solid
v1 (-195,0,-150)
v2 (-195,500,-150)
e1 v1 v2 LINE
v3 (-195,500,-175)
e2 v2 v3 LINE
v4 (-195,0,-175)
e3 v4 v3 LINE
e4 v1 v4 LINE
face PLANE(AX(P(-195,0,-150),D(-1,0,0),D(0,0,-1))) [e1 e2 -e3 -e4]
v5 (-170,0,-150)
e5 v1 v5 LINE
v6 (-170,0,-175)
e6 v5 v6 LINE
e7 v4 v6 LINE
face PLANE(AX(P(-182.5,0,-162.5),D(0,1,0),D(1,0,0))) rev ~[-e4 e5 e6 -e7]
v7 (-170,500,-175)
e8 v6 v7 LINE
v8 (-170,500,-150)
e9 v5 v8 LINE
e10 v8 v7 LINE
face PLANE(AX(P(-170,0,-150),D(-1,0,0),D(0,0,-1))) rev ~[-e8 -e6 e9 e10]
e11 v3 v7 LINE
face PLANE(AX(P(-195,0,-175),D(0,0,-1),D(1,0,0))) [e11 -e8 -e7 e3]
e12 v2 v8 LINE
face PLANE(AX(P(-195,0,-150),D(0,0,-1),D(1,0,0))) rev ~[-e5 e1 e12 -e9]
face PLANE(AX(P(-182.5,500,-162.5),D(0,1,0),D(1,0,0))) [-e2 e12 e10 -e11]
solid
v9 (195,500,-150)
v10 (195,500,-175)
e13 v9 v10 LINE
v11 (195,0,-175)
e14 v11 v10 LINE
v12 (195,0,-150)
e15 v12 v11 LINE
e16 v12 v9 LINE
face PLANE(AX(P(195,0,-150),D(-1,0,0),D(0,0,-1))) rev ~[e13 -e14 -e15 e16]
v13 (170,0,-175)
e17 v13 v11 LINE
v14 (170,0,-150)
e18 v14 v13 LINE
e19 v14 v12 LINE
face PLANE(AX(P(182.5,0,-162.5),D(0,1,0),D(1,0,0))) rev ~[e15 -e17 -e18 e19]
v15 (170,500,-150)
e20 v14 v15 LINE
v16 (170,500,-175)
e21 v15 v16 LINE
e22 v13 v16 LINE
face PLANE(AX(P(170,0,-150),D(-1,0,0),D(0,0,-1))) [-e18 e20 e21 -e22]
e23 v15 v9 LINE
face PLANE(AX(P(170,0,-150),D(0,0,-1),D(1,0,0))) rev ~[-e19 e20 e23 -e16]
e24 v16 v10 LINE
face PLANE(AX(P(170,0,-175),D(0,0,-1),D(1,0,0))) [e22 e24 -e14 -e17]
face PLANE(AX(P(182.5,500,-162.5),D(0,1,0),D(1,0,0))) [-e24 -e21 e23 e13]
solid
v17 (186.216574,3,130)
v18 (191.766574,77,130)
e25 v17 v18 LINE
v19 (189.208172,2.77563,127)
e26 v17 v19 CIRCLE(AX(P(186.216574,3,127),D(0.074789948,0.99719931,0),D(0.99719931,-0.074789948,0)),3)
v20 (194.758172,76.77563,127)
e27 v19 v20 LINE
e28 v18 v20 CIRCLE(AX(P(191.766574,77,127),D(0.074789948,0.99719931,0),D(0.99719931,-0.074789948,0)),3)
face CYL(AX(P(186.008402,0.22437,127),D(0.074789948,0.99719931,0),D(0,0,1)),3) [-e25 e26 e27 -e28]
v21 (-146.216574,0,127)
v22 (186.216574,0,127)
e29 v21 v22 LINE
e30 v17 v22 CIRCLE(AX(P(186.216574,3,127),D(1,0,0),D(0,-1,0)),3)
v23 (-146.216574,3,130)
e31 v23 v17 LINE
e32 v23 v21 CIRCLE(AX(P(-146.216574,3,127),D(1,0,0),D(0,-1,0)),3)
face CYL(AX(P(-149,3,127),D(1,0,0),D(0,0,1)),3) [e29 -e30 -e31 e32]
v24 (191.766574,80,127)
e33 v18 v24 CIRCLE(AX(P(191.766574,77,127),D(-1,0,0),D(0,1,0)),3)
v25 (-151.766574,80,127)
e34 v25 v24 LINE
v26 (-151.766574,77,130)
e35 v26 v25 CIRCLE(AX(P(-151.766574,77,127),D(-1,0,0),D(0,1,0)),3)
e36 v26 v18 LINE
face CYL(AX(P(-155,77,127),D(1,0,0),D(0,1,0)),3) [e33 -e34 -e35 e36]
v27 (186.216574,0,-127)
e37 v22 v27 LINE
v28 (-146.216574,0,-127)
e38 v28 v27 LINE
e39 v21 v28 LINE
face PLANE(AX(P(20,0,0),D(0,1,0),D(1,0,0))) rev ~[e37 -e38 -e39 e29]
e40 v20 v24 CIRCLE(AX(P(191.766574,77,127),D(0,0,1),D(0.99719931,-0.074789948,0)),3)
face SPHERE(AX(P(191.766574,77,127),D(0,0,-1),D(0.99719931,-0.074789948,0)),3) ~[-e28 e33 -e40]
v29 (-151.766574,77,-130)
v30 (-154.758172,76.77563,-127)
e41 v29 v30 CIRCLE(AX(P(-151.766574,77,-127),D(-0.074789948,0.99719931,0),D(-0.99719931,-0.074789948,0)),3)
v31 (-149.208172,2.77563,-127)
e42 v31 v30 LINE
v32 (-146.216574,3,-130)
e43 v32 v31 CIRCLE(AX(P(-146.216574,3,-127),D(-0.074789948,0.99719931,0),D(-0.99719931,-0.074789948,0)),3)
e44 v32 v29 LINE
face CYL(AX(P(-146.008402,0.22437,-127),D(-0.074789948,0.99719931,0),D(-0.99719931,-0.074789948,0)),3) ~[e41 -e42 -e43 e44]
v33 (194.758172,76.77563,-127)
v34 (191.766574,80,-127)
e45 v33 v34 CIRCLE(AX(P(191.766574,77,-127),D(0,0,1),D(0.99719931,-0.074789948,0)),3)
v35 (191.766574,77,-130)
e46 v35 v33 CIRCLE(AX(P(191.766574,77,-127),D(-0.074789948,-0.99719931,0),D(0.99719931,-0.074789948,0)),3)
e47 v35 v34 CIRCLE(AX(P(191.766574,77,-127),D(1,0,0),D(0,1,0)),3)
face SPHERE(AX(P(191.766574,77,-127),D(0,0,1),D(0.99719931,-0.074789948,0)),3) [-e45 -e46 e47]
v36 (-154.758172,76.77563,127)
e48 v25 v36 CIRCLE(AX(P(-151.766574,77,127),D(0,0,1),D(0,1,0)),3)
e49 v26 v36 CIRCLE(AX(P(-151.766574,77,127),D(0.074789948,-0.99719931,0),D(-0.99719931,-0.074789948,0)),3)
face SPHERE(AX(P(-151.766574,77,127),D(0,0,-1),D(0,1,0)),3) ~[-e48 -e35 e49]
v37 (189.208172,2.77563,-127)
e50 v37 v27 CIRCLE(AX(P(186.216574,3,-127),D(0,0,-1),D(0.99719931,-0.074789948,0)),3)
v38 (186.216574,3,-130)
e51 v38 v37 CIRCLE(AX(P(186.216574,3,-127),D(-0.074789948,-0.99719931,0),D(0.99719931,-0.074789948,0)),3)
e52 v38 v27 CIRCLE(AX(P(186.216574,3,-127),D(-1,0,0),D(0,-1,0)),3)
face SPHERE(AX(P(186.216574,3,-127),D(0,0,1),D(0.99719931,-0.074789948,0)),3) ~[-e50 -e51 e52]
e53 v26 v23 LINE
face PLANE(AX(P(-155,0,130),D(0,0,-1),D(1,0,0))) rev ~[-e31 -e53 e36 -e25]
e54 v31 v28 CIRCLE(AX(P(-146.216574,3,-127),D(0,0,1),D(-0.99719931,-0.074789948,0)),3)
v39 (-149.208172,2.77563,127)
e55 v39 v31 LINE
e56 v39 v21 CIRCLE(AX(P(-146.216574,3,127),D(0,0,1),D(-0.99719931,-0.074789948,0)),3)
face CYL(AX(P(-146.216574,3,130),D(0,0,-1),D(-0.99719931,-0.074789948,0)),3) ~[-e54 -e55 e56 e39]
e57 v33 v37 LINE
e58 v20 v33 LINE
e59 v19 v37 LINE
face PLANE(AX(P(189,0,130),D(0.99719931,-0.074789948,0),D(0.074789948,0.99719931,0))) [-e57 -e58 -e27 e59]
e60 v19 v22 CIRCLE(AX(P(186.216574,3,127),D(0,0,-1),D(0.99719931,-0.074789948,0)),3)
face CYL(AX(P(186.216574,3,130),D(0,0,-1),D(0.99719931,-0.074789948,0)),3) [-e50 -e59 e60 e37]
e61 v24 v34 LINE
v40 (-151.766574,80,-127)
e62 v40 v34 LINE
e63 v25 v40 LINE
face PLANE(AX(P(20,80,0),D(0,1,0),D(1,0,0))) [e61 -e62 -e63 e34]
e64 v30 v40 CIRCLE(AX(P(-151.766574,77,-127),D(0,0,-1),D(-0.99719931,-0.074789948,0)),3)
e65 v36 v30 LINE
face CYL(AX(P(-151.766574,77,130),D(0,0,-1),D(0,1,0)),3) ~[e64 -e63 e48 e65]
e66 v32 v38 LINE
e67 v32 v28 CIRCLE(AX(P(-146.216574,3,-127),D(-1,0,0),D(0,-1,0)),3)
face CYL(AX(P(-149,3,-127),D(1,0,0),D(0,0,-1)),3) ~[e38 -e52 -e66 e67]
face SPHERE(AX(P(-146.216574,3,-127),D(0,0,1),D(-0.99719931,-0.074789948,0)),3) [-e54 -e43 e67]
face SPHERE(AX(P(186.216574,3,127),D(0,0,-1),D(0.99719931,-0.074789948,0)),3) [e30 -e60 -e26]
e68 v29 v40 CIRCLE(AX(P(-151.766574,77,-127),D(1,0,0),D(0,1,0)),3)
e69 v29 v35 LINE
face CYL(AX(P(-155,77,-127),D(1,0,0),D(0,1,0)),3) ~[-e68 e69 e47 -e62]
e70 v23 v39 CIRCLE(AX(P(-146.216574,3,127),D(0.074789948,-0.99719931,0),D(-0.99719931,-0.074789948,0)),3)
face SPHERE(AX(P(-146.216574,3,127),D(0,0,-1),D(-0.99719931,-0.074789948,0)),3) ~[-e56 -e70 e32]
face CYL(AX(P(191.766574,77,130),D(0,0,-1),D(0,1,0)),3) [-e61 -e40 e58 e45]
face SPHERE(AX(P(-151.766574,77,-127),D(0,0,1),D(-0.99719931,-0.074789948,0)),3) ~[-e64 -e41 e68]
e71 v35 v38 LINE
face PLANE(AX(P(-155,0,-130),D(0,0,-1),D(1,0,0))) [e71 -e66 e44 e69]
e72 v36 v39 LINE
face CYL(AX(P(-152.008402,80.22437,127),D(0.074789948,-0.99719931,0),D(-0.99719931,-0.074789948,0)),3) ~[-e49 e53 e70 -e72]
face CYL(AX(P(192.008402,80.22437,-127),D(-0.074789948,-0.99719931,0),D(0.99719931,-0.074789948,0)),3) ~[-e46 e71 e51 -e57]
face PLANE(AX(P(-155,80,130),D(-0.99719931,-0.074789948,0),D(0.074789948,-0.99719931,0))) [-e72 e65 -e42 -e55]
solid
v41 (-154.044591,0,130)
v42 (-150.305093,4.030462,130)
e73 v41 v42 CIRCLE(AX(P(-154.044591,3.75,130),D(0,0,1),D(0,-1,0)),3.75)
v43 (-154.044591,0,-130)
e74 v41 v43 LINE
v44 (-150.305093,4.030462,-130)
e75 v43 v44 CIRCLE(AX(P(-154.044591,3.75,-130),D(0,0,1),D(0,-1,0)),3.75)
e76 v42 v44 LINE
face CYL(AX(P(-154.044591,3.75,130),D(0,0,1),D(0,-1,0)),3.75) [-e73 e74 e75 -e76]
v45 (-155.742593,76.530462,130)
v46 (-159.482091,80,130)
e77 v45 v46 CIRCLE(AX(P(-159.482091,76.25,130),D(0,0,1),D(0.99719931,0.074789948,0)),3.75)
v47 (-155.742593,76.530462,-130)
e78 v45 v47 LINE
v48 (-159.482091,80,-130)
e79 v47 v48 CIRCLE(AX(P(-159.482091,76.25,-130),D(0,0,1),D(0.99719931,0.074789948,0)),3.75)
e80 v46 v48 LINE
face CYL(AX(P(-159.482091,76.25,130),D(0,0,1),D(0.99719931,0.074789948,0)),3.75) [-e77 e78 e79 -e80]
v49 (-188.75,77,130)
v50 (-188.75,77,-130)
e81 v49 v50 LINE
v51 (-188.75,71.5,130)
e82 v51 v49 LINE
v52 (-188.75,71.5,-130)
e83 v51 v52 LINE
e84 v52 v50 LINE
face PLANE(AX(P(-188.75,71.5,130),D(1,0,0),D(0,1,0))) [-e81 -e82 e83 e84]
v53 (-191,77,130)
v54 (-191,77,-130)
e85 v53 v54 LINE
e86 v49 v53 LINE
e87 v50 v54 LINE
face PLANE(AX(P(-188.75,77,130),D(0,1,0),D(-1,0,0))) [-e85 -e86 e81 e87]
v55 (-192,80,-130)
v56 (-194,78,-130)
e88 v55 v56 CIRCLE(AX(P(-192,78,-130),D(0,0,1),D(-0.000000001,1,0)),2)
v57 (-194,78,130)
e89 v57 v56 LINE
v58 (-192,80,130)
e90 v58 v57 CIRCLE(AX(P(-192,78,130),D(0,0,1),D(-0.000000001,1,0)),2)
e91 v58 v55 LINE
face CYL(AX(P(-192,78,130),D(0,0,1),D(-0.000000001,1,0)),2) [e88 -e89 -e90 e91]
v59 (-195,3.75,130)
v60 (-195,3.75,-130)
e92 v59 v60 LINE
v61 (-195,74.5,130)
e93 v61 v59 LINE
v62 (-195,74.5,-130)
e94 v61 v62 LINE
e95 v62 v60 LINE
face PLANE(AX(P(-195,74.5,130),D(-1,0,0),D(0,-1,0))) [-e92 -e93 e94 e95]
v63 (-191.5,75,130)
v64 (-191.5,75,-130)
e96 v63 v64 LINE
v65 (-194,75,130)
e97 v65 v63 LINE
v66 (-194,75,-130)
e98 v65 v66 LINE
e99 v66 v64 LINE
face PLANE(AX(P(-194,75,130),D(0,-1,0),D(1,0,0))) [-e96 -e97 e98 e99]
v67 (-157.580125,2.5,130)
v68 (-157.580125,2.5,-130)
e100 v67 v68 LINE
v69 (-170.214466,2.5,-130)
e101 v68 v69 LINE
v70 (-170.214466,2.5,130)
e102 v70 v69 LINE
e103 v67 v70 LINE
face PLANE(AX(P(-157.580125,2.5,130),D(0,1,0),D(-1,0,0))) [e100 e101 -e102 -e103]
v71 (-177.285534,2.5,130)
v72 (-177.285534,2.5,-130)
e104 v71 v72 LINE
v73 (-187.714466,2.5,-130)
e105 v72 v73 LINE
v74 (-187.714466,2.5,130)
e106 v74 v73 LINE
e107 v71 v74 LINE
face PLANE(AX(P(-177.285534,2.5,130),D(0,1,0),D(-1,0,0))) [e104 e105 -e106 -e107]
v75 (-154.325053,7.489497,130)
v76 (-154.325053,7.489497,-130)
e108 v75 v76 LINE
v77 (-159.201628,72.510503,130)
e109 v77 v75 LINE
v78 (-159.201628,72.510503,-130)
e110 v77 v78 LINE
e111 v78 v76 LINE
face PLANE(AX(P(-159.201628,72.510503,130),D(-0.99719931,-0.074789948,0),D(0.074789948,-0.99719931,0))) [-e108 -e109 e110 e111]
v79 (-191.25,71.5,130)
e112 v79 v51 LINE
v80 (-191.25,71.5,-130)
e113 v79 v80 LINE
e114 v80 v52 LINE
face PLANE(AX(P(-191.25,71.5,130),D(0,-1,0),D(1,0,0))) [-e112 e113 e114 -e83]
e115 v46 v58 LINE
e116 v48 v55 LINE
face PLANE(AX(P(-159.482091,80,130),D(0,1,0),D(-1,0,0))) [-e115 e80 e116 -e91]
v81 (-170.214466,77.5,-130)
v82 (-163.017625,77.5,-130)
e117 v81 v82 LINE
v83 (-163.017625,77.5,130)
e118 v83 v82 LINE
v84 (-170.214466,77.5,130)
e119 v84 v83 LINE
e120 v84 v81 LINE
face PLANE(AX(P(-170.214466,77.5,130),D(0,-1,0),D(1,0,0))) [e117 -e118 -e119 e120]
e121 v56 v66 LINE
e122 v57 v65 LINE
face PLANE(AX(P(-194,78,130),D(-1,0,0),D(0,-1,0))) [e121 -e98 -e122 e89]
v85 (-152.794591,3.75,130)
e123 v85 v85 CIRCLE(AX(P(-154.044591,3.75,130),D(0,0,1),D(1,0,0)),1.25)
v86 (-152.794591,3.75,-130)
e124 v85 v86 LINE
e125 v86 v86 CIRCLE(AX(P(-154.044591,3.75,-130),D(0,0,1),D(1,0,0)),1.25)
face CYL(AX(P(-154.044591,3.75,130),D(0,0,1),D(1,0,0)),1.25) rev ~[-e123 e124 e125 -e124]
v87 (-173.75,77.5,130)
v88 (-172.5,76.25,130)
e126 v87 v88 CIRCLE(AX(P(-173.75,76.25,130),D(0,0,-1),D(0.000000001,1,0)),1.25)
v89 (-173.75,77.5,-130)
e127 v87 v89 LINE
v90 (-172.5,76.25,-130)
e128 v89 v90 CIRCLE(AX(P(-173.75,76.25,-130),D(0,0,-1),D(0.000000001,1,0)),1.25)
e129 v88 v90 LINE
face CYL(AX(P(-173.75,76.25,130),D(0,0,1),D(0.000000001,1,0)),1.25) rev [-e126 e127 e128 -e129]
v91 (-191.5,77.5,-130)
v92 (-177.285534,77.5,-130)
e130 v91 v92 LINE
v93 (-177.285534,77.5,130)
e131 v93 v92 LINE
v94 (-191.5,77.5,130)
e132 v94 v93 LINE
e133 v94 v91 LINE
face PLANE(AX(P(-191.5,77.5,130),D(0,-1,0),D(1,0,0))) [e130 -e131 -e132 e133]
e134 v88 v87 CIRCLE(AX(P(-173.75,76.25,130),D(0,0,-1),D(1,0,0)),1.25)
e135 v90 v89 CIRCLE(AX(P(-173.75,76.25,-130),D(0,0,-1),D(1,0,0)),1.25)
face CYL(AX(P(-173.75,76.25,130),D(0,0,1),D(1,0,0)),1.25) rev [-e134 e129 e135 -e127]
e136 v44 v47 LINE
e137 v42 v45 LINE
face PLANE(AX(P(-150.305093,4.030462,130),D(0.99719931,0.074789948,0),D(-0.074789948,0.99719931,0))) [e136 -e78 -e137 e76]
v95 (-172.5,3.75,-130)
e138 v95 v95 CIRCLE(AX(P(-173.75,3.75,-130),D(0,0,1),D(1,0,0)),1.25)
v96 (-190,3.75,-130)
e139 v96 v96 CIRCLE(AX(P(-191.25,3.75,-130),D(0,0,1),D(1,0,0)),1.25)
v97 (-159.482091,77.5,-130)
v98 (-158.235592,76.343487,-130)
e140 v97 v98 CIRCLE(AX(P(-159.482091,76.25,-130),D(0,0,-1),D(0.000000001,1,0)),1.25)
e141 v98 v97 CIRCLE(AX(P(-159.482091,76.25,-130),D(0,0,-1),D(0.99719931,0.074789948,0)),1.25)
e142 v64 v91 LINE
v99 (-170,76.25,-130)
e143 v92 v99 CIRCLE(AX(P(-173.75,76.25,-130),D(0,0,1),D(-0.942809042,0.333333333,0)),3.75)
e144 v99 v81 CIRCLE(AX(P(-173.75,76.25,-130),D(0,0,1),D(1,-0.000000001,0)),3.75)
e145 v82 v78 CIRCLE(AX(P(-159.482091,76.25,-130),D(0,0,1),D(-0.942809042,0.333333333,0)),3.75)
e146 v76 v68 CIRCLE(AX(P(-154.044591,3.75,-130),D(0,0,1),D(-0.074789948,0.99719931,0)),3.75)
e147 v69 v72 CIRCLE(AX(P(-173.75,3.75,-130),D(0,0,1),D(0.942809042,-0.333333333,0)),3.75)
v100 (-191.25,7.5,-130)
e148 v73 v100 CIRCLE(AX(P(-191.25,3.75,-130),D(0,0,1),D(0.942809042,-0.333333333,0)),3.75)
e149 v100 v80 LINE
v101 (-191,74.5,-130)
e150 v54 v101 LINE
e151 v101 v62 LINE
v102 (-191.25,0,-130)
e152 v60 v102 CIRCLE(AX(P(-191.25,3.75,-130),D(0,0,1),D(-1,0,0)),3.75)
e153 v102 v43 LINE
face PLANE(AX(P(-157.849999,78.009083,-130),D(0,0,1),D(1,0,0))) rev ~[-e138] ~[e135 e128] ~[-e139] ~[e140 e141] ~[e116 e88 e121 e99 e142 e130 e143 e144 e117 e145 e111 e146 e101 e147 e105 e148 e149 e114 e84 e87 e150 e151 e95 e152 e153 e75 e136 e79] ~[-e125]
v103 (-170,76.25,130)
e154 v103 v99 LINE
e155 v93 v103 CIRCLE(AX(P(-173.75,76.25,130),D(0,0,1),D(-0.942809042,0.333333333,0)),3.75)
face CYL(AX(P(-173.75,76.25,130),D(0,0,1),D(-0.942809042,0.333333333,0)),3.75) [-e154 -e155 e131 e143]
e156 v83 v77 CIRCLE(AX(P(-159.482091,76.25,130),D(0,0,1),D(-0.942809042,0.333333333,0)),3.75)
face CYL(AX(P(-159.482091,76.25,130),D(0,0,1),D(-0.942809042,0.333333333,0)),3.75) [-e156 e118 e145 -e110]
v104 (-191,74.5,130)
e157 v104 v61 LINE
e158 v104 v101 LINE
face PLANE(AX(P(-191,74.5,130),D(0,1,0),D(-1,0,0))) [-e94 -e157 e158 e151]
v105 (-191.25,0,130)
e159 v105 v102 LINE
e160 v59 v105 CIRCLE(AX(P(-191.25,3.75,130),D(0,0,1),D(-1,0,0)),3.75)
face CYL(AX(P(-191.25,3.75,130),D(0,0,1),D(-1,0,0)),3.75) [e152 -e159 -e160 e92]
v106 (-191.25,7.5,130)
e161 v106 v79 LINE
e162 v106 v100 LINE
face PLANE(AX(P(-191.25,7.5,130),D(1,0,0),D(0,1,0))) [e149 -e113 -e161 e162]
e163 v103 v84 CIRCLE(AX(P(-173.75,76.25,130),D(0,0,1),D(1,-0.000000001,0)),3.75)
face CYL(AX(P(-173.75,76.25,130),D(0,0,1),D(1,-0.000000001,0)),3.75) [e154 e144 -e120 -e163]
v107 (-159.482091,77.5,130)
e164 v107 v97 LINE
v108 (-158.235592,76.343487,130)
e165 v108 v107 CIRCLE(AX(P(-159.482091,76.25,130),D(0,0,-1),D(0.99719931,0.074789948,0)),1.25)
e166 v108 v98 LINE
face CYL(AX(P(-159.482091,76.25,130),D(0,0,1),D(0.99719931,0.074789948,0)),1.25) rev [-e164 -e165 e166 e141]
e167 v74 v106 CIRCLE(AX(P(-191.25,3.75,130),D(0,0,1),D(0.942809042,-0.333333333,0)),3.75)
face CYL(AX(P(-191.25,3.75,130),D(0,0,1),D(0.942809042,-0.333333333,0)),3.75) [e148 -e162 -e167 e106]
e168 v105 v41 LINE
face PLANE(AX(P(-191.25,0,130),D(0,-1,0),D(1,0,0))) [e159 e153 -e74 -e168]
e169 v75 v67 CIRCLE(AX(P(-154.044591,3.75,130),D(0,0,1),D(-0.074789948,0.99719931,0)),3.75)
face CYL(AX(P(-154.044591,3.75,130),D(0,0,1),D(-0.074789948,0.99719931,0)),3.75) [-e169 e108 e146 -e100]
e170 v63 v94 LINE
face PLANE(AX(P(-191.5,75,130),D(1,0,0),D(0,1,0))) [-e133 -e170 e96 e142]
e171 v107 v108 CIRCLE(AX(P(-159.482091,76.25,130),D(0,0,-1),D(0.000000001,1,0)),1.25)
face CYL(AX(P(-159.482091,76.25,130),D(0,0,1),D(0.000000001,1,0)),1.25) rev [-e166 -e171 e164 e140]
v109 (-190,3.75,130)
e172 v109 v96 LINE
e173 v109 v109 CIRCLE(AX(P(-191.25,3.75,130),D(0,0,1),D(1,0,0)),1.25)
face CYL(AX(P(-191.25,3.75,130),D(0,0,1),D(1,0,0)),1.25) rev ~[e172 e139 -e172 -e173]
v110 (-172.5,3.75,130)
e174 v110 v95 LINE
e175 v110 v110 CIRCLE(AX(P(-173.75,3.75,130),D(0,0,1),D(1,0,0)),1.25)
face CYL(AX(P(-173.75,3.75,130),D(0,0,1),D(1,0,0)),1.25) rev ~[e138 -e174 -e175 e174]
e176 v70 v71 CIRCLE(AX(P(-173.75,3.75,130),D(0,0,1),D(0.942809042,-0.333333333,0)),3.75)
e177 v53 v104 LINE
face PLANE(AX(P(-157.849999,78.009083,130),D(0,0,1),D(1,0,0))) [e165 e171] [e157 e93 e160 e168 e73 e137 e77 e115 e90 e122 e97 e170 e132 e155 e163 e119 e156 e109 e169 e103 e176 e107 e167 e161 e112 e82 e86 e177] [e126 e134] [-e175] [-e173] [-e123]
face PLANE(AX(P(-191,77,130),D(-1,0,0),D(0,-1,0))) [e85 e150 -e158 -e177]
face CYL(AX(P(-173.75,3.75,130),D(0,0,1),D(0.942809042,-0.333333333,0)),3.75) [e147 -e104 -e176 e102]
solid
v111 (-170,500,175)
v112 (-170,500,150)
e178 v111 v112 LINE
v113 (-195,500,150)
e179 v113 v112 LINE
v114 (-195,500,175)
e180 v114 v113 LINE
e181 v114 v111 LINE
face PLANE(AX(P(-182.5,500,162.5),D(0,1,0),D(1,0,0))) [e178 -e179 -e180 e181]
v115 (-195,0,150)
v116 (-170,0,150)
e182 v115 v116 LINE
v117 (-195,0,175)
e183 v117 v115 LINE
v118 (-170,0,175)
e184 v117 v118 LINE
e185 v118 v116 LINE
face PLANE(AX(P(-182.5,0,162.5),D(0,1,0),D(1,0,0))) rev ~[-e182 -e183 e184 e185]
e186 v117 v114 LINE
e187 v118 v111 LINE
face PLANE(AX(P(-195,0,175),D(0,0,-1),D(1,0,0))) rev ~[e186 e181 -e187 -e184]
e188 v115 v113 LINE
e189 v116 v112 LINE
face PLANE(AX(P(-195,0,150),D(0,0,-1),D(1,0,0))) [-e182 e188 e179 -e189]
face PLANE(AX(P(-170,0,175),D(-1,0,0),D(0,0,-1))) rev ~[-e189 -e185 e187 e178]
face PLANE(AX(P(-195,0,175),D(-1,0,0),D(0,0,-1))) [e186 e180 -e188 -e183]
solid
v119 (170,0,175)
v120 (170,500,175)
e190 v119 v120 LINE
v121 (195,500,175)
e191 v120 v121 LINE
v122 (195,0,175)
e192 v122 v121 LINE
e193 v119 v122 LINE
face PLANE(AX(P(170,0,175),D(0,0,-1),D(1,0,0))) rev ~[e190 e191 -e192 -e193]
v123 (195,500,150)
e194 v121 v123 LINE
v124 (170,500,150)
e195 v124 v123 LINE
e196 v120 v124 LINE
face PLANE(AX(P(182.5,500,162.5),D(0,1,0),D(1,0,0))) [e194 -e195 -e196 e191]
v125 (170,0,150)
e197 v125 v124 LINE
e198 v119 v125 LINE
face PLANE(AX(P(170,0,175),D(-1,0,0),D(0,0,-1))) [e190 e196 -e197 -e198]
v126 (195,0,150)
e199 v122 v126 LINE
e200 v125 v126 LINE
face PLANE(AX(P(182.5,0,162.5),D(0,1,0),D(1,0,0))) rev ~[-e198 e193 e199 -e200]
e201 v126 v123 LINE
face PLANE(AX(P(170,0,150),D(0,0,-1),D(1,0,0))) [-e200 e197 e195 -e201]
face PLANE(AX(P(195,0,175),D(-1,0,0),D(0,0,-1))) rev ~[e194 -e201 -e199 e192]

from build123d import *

# Parameters (mm, degrees)
SKETCH_1_W          = 350
SKETCH_1_H          = 260
EXTRUDE_5_DEPTH     = 80
CUT_EXTRUDE_1_DEPTH = 262
CUT_EXTRUDE_2_DEPTH = 262
FILLET_2_R          = 3
SKETCH_1_9_W        = 25
SKETCH_1_9_H        = 25
EXTRUDE_6_DEPTH     = 500
EXTRUDE_6_2_DEPTH   = 500
EXTRUDE_6_3_DEPTH   = 500
EXTRUDE_6_4_DEPTH   = 500
SKETCH_32_R         = 1.25
EXTRUDE_17_DEPTH    = 260
EXTRUDE_18_DEPTH    = 260


with BuildPart() as part:
    # 스케치1 → 보스-돌출5 (new body)
    with BuildSketch(Plane(origin=(0, 0, 0), x_dir=(1, 0, 0), z_dir=(0, 1, 0))):
        with Locations((20, 0)):
            Rectangle(SKETCH_1_W, SKETCH_1_H)
    extrude(amount=EXTRUDE_5_DEPTH)

    # 스케치5 → 컷-돌출1 (cut)
    with BuildSketch(Plane.XY.offset(130)):
        Polygon((-155, 80), (-149, 0), (-155, 0), align=None)
    extrude(amount=-CUT_EXTRUDE_1_DEPTH, mode=Mode.SUBTRACT)

    # 스케치6 → 컷-돌출2 (cut)
    with BuildSketch(Plane.XY.offset(130)):
        Polygon((195, 0), (189, 0), (195, 80), align=None)
    extrude(amount=-CUT_EXTRUDE_2_DEPTH, mode=Mode.SUBTRACT)

    # 필렛2
    fillet_2_edges = [part.edges().sort_by_distance(p)[0] for p in [
        (20, 80, 130),
        (195, 80, 0),
        (-149, 0, 0),
        (-152, 40, -130),
        (-152, 40, 130),
        (20, 0, 130),
        (20, 0, -130),
        (189, 0, 0),
        (192, 40, -130),
        (192, 40, 130),
        (20, 80, -130),
        (-155, 80, 0),
    ]]
    fillet(fillet_2_edges, radius=FILLET_2_R)


with BuildPart() as body_2:
    # 스케치1<9> → 보스-돌출6 (new body)
    with BuildSketch(Plane(origin=(0, 0, 0), x_dir=(1, 0, 0), z_dir=(0, 1, 0))):
        with Locations((-182.5, -162.5)):
            Rectangle(SKETCH_1_9_W, SKETCH_1_9_H)
    extrude(amount=EXTRUDE_6_DEPTH)


with BuildPart() as body_3:
    # 스케치1<9> → Extrude 6 2 (new body)
    with BuildSketch(Plane(origin=(0, 0, 0), x_dir=(1, 0, 0), z_dir=(0, 1, 0))):
        with Locations((182.5, -162.5)):
            Rectangle(SKETCH_1_9_W, SKETCH_1_9_H)
    extrude(amount=EXTRUDE_6_2_DEPTH)


with BuildPart() as body_4:
    # 스케치1<9> → Extrude 6 3 (new body)
    with BuildSketch(Plane(origin=(0, 0, 0), x_dir=(1, 0, 0), z_dir=(0, 1, 0))):
        with Locations((182.5, 162.5)):
            Rectangle(SKETCH_1_9_W, SKETCH_1_9_H)
    extrude(amount=EXTRUDE_6_3_DEPTH)


with BuildPart() as body_5:
    # 스케치1<9> → Extrude 6 4 (new body)
    with BuildSketch(Plane(origin=(0, 0, 0), x_dir=(1, 0, 0), z_dir=(0, 1, 0))):
        with Locations((-182.5, 162.5)):
            Rectangle(SKETCH_1_9_W, SKETCH_1_9_H)
    extrude(amount=EXTRUDE_6_4_DEPTH)


with BuildPart() as body_6:
    # 스케치32 → 보스-돌출17 (new body)
    with BuildSketch(Plane.XY.offset(130)):
        with BuildLine():
            ThreePointArc((-195, 3.75), (-193.901650429, 1.098349571), (-191.25, 0))
            Line((-191.25, 0), (-154.044590641, 0))
            ThreePointArc((-154.044590641, 0), (-151.295569575, 1.199434734), (-150.305093229, 4.030462306))
            Line((-150.305093229, 4.030462306), (-155.742593229, 76.530462306))
            Line((-155.742593229, 76.530462306), (-158.235591504, 76.343487435))
            ThreePointArc((-158.235591504, 76.343487435), (-160.332279063, 75.333659645), (-159.482090641, 77.5))
            Line((-159.482090641, 77.5), (-163.017624547, 77.5))
            ThreePointArc((-163.017624547, 77.5), (-162.460788995, 73.97187443), (-159.201628335, 72.510502588))
            Line((-159.201628335, 72.510502588), (-154.325052947, 7.489497412))
            ThreePointArc((-154.325052947, 7.489497412), (-157.185327478, 5.798968551), (-157.580124547, 2.5))
            Line((-157.580124547, 2.5), (-170.214466094, 2.5))
            ThreePointArc((-170.214466094, 2.5), (-173.75, 7.5), (-177.285533906, 2.5))
            Line((-177.285533906, 2.5), (-187.714466094, 2.5))
            ThreePointArc((-187.714466094, 2.5), (-188.188137822, 5.915063509), (-191.25, 7.5))
            Line((-191.25, 7.5), (-191.25, 71.5))
            Line((-191.25, 71.5), (-188.75, 71.5))
            Line((-188.75, 71.5), (-188.75, 77))
            Line((-188.75, 77), (-191, 77))
            Line((-191, 77), (-191, 74.5))
            Line((-191, 74.5), (-195, 74.5))
            Line((-195, 74.5), (-195, 3.75))
        make_face()
        with Locations((-154.044590641, 3.75)):
            Circle(SKETCH_32_R, mode=Mode.SUBTRACT)
        with Locations((-191.25, 3.75)):
            Circle(SKETCH_32_R, mode=Mode.SUBTRACT)
        with Locations((-173.75, 3.75)):
            Circle(SKETCH_32_R, mode=Mode.SUBTRACT)
    extrude(amount=-EXTRUDE_17_DEPTH)

    # 스케치32<7> → 보스-돌출18 (add)
    with BuildSketch(Plane.XY.offset(130)):
        with BuildLine():
            Line((-158.235591504, 76.343487435), (-155.742593229, 76.530462306))
            ThreePointArc((-155.742593229, 76.530462306), (-156.931525375, 78.999021066), (-159.482090641, 80))
            Line((-159.482090641, 80), (-159.482090641, 77.5))
            ThreePointArc((-159.482090641, 77.5), (-158.631902219, 77.166340355), (-158.235591504, 76.343487435))
        make_face()
        with BuildLine():
            Line((-159.482090641, 77.5), (-159.482090641, 80))
            ThreePointArc((-159.482090641, 80), (-161.64715415, 79.311862178), (-163.017624547, 77.5))
            Line((-163.017624547, 77.5), (-159.482090641, 77.5))
        make_face()
        with BuildLine():
            Line((-159.482090641, 80), (-173.75, 80))
            ThreePointArc((-173.75, 80), (-171.584936491, 79.311862178), (-170.214466094, 77.5))
            Line((-170.214466094, 77.5), (-163.017624547, 77.5))
            ThreePointArc((-163.017624547, 77.5), (-161.64715415, 79.311862178), (-159.482090641, 80))
        make_face()
        with BuildLine():
            ThreePointArc((-170.214466094, 77.5), (-171.584936491, 79.311862178), (-173.75, 80))
            ThreePointArc((-173.75, 80), (-175.915063509, 79.311862178), (-177.285533906, 77.5))
            Line((-177.285533906, 77.5), (-173.75, 77.5))
            Line((-173.75, 77.5), (-170.214466094, 77.5))
        make_face()
        with BuildLine():
            ThreePointArc((-170, 76.25), (-170.054005401, 76.88413242), (-170.214466094, 77.5))
            Line((-170.214466094, 77.5), (-173.75, 77.5))
            Line((-173.75, 77.5), (-177.285533906, 77.5))
            ThreePointArc((-177.285533906, 77.5), (-174.38413242, 72.554005401), (-170, 76.25))
        make_face()
        with BuildLine():
            ThreePointArc((-172.5, 76.25), (-174.633883476, 75.366116524), (-173.75, 77.5))
            ThreePointArc((-173.75, 77.5), (-172.866116524, 77.133883476), (-172.5, 76.25))
        make_face(mode=Mode.SUBTRACT)
        with BuildLine():
            Line((-191.530628811, 80), (-192, 80))
            ThreePointArc((-192, 80), (-193.414213562, 79.414213562), (-194, 78))
            Line((-194, 78), (-194, 77))
            Line((-194, 77), (-194, 75))
            Line((-194, 75), (-191.5, 75))
            Line((-191.5, 75), (-191.5, 77.5))
            Line((-191.5, 77.5), (-190.549934157, 77.5))
            Line((-190.549934157, 77.5), (-177.285533906, 77.5))
            ThreePointArc((-177.285533906, 77.5), (-175.915063509, 79.311862178), (-173.75, 80))
            Line((-173.75, 80), (-191.25, 80))
            Line((-191.25, 80), (-191.530628811, 80))
        make_face()
    extrude(amount=-EXTRUDE_18_DEPTH)


solid = Compound([part.part, body_2.part, body_3.part, body_4.part, body_5.part, body_6.part])
